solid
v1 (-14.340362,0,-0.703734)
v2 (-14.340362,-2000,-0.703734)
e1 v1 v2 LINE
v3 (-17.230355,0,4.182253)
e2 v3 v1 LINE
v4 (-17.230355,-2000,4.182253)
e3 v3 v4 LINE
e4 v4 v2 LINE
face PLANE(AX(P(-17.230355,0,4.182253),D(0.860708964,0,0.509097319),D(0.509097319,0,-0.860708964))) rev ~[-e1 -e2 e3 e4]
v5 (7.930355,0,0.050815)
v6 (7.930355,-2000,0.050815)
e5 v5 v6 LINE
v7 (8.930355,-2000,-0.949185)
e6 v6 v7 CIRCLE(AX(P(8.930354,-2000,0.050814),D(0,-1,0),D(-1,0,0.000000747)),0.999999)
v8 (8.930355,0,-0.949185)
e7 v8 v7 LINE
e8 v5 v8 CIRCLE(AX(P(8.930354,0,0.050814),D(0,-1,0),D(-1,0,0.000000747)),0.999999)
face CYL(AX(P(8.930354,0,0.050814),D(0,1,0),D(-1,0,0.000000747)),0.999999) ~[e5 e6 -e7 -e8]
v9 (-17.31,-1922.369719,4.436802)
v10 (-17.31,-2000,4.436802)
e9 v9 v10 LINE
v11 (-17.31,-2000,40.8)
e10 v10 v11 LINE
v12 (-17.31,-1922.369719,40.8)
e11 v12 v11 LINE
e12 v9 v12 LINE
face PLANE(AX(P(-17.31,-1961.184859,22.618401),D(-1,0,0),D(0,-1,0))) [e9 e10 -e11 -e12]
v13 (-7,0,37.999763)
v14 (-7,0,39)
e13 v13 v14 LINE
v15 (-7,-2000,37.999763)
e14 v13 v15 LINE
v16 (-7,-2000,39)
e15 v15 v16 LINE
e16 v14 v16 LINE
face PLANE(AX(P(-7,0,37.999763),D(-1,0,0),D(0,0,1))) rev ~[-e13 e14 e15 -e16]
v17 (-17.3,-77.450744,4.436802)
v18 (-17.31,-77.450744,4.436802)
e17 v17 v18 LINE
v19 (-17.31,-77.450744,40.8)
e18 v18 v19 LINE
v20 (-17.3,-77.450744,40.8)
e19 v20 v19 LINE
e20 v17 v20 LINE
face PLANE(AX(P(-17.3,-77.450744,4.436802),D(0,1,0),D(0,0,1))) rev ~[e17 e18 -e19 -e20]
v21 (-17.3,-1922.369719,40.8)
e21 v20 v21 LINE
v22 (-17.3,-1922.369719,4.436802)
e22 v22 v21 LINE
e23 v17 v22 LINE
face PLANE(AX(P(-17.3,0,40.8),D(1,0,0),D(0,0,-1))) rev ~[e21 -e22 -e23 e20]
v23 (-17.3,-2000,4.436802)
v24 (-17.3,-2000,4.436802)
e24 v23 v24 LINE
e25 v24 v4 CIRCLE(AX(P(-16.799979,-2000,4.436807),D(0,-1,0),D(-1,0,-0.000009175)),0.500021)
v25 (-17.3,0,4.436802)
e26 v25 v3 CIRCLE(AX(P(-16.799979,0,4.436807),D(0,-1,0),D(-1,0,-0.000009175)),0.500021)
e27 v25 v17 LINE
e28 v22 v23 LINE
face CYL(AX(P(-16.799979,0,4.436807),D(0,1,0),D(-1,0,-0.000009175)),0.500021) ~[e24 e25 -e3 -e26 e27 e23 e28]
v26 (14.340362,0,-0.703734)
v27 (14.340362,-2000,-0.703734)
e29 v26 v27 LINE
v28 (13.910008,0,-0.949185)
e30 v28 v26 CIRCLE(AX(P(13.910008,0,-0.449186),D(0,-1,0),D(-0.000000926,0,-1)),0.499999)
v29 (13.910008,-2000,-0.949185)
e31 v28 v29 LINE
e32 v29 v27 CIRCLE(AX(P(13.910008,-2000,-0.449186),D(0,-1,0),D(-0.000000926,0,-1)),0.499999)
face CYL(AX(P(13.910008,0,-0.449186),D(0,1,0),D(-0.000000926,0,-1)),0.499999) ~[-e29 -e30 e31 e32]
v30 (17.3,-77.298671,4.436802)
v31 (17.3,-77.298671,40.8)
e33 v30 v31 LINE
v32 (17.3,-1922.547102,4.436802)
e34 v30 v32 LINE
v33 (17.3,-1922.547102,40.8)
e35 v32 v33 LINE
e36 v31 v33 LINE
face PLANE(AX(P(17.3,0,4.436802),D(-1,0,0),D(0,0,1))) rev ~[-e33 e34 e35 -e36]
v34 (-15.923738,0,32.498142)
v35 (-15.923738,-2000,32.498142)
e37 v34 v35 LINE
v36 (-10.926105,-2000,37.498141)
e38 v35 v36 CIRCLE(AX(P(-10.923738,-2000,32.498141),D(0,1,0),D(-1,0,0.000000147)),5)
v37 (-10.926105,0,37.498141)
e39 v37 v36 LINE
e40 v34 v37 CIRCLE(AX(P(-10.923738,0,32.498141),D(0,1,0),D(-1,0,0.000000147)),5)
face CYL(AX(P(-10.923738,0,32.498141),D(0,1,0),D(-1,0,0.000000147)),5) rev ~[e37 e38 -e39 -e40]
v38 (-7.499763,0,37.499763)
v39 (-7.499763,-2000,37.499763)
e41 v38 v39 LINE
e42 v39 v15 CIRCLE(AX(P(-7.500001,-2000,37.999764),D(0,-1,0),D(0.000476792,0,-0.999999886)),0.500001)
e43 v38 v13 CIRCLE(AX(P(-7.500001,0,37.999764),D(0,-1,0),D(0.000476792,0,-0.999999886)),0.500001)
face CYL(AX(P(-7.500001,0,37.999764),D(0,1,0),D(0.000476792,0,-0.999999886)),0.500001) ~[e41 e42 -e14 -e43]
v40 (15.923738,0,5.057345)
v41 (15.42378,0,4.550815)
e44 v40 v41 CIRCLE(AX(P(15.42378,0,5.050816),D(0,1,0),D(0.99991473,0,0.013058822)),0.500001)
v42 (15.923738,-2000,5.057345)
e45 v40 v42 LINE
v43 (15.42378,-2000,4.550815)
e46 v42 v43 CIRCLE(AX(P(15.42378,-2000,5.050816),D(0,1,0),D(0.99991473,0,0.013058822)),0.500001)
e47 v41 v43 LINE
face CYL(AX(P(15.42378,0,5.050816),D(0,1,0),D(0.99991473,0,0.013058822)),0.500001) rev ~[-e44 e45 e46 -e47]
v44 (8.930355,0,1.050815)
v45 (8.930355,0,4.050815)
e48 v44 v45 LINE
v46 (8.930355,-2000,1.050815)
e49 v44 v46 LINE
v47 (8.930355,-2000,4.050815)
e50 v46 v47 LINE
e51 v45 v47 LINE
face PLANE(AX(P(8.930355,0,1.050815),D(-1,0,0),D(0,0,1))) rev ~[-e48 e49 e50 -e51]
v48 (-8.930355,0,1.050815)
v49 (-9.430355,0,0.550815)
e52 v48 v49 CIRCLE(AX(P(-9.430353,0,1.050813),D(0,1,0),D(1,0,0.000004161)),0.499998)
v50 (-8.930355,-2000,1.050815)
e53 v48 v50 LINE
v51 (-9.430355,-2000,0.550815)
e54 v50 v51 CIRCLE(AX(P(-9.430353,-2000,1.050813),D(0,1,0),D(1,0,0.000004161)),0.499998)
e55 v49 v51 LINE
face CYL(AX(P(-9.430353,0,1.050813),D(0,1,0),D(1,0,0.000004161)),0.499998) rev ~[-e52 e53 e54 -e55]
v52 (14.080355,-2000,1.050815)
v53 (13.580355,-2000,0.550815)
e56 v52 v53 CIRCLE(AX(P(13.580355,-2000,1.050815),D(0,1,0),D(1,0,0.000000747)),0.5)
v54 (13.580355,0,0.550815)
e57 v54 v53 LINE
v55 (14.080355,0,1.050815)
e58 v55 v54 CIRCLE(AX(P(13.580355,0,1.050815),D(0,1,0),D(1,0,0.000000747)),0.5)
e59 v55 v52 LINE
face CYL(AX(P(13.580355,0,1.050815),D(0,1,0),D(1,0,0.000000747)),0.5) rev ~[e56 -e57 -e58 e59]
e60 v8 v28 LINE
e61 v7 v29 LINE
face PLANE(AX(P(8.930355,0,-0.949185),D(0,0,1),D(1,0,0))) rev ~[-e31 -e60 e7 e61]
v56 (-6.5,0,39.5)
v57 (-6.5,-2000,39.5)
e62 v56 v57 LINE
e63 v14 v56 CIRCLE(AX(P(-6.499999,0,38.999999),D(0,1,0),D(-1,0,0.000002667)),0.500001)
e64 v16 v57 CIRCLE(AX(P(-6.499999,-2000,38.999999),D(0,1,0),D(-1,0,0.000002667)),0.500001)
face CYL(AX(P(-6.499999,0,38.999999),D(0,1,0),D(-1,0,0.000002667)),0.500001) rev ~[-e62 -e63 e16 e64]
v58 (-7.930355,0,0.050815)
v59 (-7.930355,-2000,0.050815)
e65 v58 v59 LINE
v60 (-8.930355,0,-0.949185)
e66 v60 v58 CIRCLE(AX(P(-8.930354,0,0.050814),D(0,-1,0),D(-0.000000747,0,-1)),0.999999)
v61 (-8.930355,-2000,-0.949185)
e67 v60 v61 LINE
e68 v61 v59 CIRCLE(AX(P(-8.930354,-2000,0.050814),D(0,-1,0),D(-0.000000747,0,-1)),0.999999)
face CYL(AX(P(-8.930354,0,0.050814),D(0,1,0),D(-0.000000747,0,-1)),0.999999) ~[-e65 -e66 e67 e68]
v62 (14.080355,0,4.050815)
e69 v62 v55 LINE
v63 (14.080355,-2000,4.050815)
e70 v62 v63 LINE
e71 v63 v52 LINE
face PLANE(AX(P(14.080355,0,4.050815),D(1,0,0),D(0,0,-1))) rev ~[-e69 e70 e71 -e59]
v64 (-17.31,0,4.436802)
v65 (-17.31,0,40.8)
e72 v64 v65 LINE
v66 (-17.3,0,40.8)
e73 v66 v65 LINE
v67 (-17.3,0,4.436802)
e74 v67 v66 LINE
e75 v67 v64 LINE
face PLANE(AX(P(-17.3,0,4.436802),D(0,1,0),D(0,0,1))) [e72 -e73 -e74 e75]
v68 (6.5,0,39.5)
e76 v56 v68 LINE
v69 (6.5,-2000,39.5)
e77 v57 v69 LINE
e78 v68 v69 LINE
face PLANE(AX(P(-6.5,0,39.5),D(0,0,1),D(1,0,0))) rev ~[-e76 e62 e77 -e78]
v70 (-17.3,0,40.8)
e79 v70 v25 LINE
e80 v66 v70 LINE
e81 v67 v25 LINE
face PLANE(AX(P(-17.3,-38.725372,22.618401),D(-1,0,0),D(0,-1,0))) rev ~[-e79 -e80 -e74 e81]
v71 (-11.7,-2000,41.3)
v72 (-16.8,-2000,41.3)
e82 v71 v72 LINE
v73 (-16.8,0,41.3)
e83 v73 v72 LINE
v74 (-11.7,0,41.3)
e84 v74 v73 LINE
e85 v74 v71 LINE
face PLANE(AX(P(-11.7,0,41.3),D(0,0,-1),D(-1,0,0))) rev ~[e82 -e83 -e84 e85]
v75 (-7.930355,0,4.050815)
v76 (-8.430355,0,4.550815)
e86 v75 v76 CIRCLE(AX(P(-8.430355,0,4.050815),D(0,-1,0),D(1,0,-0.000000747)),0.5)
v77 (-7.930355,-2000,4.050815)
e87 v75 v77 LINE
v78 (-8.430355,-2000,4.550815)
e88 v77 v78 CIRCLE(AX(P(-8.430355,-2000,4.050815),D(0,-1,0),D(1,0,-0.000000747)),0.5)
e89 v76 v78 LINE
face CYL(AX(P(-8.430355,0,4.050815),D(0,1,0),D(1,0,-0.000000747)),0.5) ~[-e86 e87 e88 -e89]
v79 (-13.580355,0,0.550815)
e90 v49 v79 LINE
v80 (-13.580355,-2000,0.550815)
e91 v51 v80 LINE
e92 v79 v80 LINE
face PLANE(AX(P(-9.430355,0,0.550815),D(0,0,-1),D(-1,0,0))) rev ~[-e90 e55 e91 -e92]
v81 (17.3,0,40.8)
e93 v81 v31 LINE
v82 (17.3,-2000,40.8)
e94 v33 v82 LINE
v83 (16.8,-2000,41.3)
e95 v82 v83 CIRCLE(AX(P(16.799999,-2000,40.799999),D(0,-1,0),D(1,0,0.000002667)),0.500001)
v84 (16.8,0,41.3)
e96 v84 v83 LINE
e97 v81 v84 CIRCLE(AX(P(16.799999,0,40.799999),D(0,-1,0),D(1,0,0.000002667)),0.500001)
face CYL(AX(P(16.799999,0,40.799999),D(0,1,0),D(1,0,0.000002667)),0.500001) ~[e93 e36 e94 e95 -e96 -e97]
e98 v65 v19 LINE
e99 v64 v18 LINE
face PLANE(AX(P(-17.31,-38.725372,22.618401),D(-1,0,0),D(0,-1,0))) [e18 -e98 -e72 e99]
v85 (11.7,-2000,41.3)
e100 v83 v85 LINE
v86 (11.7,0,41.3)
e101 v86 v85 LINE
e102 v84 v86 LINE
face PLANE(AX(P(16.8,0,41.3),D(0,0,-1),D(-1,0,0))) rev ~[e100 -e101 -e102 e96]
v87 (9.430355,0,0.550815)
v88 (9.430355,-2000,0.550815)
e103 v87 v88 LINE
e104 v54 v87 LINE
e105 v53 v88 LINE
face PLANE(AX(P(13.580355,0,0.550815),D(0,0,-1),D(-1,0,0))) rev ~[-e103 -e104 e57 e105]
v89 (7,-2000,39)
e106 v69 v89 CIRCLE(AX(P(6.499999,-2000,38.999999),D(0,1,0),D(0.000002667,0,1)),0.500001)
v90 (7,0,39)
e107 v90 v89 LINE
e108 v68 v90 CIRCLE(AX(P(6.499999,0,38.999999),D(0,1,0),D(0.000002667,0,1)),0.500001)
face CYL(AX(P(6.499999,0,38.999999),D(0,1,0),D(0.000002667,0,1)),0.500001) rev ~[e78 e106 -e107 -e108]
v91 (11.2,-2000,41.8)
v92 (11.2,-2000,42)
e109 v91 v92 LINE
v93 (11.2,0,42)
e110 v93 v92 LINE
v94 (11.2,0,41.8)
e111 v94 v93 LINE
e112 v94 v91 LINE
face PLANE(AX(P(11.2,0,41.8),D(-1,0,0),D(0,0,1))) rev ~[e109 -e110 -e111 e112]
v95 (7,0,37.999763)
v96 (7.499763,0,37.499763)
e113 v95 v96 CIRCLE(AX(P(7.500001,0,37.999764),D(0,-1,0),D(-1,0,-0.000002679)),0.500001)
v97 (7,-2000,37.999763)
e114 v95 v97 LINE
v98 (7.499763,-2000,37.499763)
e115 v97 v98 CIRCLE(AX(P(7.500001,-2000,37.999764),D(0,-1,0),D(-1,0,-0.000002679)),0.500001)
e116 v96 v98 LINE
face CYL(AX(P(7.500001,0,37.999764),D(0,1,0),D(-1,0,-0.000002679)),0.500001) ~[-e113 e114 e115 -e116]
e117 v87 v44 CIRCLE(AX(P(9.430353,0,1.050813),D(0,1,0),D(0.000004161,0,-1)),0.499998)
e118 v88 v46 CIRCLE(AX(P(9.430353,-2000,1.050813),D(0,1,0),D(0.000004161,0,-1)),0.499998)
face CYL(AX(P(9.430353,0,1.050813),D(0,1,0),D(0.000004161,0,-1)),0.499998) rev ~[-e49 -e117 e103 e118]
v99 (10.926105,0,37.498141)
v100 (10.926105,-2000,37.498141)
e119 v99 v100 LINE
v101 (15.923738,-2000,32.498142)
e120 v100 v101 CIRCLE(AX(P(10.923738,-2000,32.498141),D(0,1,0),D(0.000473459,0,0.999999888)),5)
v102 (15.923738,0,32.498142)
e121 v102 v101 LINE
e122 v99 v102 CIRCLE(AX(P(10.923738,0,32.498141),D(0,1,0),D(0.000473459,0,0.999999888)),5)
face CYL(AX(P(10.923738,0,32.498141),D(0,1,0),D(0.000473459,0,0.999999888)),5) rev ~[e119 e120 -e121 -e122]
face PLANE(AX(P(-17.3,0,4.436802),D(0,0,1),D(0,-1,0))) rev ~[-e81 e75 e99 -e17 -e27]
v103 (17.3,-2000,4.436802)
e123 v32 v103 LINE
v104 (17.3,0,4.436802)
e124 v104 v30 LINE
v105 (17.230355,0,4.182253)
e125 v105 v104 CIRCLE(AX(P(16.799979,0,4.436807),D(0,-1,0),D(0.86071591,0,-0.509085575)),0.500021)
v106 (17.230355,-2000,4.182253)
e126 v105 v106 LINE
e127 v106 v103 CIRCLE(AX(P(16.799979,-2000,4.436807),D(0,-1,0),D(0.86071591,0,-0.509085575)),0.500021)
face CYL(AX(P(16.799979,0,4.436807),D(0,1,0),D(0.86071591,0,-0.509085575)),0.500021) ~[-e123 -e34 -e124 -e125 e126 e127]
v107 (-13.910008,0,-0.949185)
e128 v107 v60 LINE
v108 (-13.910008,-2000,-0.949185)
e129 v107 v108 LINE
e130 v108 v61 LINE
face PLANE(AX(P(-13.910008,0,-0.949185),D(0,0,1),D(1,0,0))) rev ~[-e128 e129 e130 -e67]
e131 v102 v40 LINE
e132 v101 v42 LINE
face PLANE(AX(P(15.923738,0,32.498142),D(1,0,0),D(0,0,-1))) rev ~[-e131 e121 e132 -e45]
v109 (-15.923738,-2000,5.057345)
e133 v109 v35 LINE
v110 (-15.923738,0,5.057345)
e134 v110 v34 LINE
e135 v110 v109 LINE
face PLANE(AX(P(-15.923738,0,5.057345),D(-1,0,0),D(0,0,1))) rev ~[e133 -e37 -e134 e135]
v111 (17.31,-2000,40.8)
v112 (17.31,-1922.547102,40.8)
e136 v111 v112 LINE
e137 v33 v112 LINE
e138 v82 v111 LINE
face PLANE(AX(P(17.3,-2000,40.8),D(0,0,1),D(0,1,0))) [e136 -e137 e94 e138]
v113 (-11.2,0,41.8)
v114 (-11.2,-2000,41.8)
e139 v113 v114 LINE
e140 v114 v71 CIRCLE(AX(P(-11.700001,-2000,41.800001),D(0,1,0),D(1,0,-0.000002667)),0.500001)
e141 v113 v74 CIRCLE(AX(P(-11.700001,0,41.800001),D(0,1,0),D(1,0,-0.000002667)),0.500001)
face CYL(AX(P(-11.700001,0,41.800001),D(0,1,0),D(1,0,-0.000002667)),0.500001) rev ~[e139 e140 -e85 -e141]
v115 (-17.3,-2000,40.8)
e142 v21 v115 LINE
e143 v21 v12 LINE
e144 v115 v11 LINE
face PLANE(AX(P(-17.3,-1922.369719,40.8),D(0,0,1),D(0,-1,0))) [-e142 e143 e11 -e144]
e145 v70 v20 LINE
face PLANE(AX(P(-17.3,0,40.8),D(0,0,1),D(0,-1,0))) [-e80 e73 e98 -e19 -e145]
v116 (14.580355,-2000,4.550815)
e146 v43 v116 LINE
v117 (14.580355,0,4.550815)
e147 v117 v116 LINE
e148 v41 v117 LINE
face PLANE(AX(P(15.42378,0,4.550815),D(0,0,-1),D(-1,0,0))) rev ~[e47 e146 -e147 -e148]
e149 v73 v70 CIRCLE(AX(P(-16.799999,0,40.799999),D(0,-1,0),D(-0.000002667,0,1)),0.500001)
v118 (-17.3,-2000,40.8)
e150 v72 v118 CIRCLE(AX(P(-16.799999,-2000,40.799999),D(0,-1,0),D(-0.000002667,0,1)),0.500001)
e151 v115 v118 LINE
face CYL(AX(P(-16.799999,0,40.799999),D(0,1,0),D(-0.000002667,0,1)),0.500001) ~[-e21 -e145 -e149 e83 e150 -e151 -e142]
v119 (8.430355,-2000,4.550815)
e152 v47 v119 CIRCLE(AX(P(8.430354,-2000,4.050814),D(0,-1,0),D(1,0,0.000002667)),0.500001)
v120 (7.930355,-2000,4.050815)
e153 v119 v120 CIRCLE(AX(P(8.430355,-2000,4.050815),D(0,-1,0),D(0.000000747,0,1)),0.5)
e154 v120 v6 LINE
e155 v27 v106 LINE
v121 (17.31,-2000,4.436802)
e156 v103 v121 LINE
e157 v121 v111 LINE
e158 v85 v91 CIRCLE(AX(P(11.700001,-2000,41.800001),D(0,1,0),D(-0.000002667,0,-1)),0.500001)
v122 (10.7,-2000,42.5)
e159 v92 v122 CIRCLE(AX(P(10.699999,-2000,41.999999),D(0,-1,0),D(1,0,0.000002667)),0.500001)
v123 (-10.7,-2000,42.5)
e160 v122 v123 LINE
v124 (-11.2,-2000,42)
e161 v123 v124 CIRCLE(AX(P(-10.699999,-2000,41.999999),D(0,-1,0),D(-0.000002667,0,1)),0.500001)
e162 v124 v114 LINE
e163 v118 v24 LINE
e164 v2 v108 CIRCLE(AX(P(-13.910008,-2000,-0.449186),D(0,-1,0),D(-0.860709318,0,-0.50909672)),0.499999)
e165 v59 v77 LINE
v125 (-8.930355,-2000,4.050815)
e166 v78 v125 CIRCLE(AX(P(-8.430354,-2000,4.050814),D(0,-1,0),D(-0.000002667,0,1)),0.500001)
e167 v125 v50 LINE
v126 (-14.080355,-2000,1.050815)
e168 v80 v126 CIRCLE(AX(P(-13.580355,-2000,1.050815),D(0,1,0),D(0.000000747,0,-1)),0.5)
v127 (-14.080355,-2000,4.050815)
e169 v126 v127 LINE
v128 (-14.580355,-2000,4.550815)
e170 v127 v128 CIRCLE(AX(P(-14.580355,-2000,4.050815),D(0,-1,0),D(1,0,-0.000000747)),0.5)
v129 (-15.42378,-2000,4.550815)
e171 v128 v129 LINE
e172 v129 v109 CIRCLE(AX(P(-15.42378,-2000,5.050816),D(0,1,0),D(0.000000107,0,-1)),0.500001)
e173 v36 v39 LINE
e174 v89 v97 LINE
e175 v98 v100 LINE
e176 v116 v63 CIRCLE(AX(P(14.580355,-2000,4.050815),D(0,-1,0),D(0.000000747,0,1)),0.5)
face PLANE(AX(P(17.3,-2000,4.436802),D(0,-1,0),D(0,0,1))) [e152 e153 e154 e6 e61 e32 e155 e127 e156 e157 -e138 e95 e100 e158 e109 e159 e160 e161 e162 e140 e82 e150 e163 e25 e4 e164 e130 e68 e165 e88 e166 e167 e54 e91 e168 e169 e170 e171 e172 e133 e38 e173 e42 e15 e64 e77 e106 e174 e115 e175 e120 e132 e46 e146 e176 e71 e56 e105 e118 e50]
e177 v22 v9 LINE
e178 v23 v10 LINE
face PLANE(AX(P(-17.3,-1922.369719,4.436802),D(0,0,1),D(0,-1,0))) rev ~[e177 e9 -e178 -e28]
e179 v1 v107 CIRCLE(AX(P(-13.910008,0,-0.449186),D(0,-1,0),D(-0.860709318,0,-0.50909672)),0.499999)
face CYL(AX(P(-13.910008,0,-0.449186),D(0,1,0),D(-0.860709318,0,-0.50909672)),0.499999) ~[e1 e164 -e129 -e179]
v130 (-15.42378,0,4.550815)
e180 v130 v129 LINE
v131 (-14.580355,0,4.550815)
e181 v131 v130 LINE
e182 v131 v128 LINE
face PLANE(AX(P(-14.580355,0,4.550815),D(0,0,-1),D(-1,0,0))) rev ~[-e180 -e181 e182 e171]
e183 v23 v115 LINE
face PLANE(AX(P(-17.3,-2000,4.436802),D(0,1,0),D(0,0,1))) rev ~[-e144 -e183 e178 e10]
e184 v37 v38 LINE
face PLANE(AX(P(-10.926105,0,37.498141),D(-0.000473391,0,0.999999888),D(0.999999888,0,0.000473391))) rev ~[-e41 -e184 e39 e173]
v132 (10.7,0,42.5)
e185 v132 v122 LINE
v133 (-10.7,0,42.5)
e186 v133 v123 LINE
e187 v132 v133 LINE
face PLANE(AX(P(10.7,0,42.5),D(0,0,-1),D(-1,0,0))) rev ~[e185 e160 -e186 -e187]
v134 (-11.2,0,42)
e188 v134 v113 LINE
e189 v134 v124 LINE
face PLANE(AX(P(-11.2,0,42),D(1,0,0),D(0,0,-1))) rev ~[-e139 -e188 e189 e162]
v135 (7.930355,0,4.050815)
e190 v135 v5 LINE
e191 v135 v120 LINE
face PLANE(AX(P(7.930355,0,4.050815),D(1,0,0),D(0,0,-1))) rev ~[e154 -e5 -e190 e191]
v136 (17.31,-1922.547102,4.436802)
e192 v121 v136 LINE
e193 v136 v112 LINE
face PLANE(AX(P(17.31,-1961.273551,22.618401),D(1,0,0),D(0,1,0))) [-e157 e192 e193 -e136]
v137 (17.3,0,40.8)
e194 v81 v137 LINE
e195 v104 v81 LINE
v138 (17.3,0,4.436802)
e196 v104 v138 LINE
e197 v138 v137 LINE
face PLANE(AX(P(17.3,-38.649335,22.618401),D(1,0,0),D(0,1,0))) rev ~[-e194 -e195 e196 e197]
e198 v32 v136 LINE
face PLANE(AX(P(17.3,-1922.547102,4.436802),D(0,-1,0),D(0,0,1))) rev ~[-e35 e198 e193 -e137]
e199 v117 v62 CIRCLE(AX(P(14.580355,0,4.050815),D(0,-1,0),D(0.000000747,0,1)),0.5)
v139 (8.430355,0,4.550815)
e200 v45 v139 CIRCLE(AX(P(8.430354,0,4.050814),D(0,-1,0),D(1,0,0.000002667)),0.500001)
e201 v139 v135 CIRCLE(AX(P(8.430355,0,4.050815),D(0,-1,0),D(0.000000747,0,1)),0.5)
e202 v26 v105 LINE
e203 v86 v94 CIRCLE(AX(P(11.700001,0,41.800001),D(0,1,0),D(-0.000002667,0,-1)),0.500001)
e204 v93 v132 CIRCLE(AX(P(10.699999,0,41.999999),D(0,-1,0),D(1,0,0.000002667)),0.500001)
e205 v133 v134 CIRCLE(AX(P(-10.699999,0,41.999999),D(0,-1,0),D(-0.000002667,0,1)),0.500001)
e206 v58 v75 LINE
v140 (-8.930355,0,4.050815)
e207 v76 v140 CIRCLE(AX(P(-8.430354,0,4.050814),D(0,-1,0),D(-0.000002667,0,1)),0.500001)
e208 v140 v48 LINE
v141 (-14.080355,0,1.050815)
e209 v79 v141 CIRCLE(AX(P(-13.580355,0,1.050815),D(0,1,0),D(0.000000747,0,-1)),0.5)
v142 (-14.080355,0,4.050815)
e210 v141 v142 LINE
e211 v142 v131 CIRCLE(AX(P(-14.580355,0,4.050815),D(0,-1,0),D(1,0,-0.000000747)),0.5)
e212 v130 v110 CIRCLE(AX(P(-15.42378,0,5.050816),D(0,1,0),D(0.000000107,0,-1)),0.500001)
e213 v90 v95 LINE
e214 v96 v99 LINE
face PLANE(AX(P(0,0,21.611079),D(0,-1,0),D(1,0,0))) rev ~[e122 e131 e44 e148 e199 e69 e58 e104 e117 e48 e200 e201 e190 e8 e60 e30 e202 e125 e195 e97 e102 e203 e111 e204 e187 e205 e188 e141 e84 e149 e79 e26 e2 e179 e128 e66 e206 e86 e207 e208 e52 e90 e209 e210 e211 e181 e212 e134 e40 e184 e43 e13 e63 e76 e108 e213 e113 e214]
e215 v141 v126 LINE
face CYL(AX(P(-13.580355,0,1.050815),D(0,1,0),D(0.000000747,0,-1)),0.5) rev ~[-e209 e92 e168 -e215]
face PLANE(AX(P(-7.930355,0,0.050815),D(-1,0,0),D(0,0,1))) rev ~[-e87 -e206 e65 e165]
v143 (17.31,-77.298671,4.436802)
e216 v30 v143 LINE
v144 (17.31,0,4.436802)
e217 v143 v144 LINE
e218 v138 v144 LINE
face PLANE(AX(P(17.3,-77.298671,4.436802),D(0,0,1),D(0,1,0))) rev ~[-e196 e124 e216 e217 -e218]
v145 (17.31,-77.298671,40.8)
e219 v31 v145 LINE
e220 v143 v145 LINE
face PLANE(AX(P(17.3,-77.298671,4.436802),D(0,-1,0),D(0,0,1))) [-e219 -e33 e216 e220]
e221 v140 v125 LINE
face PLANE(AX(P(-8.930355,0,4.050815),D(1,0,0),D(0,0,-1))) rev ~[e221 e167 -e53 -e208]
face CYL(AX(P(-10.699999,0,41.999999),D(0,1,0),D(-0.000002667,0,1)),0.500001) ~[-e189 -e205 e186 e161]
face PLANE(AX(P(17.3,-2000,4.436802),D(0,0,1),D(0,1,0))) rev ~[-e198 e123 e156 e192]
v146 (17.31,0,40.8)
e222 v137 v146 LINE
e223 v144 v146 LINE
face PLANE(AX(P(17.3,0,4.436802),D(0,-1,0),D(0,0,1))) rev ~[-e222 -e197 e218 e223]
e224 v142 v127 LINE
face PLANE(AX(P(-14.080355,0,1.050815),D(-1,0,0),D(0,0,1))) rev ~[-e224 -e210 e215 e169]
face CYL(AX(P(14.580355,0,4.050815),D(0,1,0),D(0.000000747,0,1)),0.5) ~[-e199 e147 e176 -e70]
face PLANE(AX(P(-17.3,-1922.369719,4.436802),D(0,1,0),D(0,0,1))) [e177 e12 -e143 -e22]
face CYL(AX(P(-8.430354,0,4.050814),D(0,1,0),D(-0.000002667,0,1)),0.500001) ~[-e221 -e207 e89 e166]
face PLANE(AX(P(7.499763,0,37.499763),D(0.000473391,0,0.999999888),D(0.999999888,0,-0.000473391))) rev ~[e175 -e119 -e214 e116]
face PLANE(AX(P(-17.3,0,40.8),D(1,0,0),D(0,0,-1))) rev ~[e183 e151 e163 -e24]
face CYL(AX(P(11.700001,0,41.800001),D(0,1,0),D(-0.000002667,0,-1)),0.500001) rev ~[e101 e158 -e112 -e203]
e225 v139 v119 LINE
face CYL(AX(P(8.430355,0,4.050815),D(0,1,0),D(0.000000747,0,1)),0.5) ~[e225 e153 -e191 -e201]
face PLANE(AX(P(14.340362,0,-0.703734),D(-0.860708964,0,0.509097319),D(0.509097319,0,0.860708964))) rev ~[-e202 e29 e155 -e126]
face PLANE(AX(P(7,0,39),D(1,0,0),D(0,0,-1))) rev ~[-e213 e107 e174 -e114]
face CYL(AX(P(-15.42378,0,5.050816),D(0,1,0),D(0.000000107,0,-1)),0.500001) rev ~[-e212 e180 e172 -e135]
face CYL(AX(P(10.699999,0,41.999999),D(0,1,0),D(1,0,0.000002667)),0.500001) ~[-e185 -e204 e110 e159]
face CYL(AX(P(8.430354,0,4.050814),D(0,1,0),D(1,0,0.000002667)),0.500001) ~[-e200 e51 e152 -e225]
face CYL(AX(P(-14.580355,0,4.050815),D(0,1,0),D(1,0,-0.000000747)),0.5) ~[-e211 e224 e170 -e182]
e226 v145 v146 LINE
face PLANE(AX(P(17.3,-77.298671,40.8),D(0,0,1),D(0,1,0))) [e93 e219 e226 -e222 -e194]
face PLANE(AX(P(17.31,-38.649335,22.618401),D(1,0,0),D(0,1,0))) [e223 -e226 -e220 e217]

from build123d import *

# Parameters (mm, degrees)
F1_DEPTH = 2000
F2_W     = 77.452898
F2_H     = 36.363198
F3_DEPTH = 0.01
F4_W     = 77.630281
F4_H     = 36.363198
F5_DEPTH = 0.01
F6_W     = 77.450745
F6_H     = 36.363198
F7_DEPTH = 0.01
F8_W     = 77.298671
F8_H     = 36.363198
F9_DEPTH = 0.01


with BuildPart() as f1:
    # F0 (on Front) → F1 (new body)
    with BuildSketch(Plane.XZ):
        with BuildLine():
            Line((10.7, 42.5), (0, 42.5))
            Line((0, 42.5), (-10.7, 42.5))
            ThreePointArc((-10.7, 42.5), (-11.053553, 42.353553), (-11.2, 42))
            Line((-11.2, 42), (-11.2, 41.8))
            ThreePointArc((-11.2, 41.8), (-11.346447, 41.446447), (-11.7, 41.3))
            Line((-11.7, 41.3), (-16.8, 41.3))
            ThreePointArc((-16.8, 41.3), (-17.153553, 41.153553), (-17.3, 40.8))
            Line((-17.3, 40.8), (-17.3, 4.436802))
            ThreePointArc((-17.3, 4.436802), (-17.282274, 4.30485), (-17.230355, 4.182253))
            Line((-17.230355, 4.182253), (-14.340362, -0.703734))
            ThreePointArc((-14.340362, -0.703734), (-14.157723, -0.883509), (-13.910008, -0.949185))
            Line((-13.910008, -0.949185), (-8.930355, -0.949185))
            ThreePointArc((-8.930355, -0.949185), (-8.223248, -0.656292), (-7.930355, 0.050815))
            Line((-7.930355, 0.050815), (-7.930355, 4.050815))
            ThreePointArc((-7.930355, 4.050815), (-8.076801, 4.404368), (-8.430355, 4.550815))
            ThreePointArc((-8.430355, 4.550815), (-8.783908, 4.404368), (-8.930355, 4.050815))
            Line((-8.930355, 4.050815), (-8.930355, 1.050815))
            ThreePointArc((-8.930355, 1.050815), (-9.076801, 0.697261), (-9.430355, 0.550815))
            Line((-9.430355, 0.550815), (-13.580355, 0.550815))
            ThreePointArc((-13.580355, 0.550815), (-13.933908, 0.697261), (-14.080355, 1.050815))
            Line((-14.080355, 1.050815), (-14.080355, 4.050815))
            ThreePointArc((-14.080355, 4.050815), (-14.226801, 4.404368), (-14.580355, 4.550815))
            Line((-14.580355, 4.550815), (-15.42378, 4.550815))
            ThreePointArc((-15.42378, 4.550815), (-15.779635, 4.699578), (-15.923738, 5.057345))
            Line((-15.923738, 5.057345), (-15.923738, 32.498142))
            ThreePointArc((-15.923738, 32.498142), (-14.460109, 36.032838), (-10.926105, 37.498141))
            Line((-10.926105, 37.498141), (-7.499763, 37.499763))
            ThreePointArc((-7.499763, 37.499763), (-7.146363, 37.646294), (-7, 37.999763))
            Line((-7, 37.999763), (-7, 39))
            ThreePointArc((-7, 39), (-6.853553, 39.353553), (-6.5, 39.5))
            Line((-6.5, 39.5), (0, 39.5))
            Line((0, 39.5), (6.5, 39.5))
            ThreePointArc((6.5, 39.5), (6.853553, 39.353553), (7, 39))
            Line((7, 39), (7, 37.999763))
            ThreePointArc((7, 37.999763), (7.146363, 37.646294), (7.499763, 37.499763))
            Line((7.499763, 37.499763), (10.926105, 37.498141))
            ThreePointArc((10.926105, 37.498141), (14.460109, 36.032838), (15.923738, 32.498142))
            Line((15.923738, 32.498142), (15.923738, 5.057345))
            ThreePointArc((15.923738, 5.057345), (15.779635, 4.699578), (15.42378, 4.550815))
            Line((15.42378, 4.550815), (14.580355, 4.550815))
            ThreePointArc((14.580355, 4.550815), (14.226801, 4.404368), (14.080355, 4.050815))
            Line((14.080355, 4.050815), (14.080355, 1.050815))
            ThreePointArc((14.080355, 1.050815), (13.933908, 0.697261), (13.580355, 0.550815))
            Line((13.580355, 0.550815), (9.430355, 0.550815))
            ThreePointArc((9.430355, 0.550815), (9.076801, 0.697261), (8.930355, 1.050815))
            Line((8.930355, 1.050815), (8.930355, 4.050815))
            ThreePointArc((8.930355, 4.050815), (8.783908, 4.404368), (8.430355, 4.550815))
            ThreePointArc((8.430355, 4.550815), (8.076801, 4.404368), (7.930355, 4.050815))
            Line((7.930355, 4.050815), (7.930355, 0.050815))
            ThreePointArc((7.930355, 0.050815), (8.223248, -0.656292), (8.930355, -0.949185))
            Line((8.930355, -0.949185), (13.910008, -0.949185))
            ThreePointArc((13.910008, -0.949185), (14.157723, -0.883509), (14.340362, -0.703734))
            Line((14.340362, -0.703734), (17.230355, 4.182253))
            ThreePointArc((17.230355, 4.182253), (17.282274, 4.30485), (17.3, 4.436802))
            Line((17.3, 4.436802), (17.3, 40.8))
            ThreePointArc((17.3, 40.8), (17.153553, 41.153553), (16.8, 41.3))
            Line((16.8, 41.3), (11.7, 41.3))
            ThreePointArc((11.7, 41.3), (11.346447, 41.446447), (11.2, 41.8))
            Line((11.2, 41.8), (11.2, 42))
            ThreePointArc((11.2, 42), (11.053553, 42.353553), (10.7, 42.5))
        make_face()
    extrude(amount=F1_DEPTH)

    # F2 (on face) → F3 (join)
    with BuildSketch(Plane.YZ.offset(17.3)):
        with Locations((-1961.273551, 22.618401)):
            Rectangle(F2_W, F2_H)
    extrude(amount=F3_DEPTH)

    # F4 (on face) → F5 (join)
    with BuildSketch(Plane(origin=(-17.3, 0, 0), x_dir=(0, -1, 0), z_dir=(-1, 0, 0))):
        with Locations((1961.184859, 22.618401)):
            Rectangle(F4_W, F4_H)
    extrude(amount=F5_DEPTH)

    # F6 (on face) → F7 (join)
    with BuildSketch(Plane(origin=(-17.3, 0, 0), x_dir=(0, -1, 0), z_dir=(-1, 0, 0))):
        with Locations((38.725372, 22.618401)):
            Rectangle(F6_W, F6_H)
    extrude(amount=F7_DEPTH)

    # F8 (on face) → F9 (join)
    with BuildSketch(Plane.YZ.offset(17.3)):
        with Locations((-38.649335, 22.618401)):
            Rectangle(F8_W, F8_H)
    extrude(amount=F9_DEPTH)


solid = f1.part
